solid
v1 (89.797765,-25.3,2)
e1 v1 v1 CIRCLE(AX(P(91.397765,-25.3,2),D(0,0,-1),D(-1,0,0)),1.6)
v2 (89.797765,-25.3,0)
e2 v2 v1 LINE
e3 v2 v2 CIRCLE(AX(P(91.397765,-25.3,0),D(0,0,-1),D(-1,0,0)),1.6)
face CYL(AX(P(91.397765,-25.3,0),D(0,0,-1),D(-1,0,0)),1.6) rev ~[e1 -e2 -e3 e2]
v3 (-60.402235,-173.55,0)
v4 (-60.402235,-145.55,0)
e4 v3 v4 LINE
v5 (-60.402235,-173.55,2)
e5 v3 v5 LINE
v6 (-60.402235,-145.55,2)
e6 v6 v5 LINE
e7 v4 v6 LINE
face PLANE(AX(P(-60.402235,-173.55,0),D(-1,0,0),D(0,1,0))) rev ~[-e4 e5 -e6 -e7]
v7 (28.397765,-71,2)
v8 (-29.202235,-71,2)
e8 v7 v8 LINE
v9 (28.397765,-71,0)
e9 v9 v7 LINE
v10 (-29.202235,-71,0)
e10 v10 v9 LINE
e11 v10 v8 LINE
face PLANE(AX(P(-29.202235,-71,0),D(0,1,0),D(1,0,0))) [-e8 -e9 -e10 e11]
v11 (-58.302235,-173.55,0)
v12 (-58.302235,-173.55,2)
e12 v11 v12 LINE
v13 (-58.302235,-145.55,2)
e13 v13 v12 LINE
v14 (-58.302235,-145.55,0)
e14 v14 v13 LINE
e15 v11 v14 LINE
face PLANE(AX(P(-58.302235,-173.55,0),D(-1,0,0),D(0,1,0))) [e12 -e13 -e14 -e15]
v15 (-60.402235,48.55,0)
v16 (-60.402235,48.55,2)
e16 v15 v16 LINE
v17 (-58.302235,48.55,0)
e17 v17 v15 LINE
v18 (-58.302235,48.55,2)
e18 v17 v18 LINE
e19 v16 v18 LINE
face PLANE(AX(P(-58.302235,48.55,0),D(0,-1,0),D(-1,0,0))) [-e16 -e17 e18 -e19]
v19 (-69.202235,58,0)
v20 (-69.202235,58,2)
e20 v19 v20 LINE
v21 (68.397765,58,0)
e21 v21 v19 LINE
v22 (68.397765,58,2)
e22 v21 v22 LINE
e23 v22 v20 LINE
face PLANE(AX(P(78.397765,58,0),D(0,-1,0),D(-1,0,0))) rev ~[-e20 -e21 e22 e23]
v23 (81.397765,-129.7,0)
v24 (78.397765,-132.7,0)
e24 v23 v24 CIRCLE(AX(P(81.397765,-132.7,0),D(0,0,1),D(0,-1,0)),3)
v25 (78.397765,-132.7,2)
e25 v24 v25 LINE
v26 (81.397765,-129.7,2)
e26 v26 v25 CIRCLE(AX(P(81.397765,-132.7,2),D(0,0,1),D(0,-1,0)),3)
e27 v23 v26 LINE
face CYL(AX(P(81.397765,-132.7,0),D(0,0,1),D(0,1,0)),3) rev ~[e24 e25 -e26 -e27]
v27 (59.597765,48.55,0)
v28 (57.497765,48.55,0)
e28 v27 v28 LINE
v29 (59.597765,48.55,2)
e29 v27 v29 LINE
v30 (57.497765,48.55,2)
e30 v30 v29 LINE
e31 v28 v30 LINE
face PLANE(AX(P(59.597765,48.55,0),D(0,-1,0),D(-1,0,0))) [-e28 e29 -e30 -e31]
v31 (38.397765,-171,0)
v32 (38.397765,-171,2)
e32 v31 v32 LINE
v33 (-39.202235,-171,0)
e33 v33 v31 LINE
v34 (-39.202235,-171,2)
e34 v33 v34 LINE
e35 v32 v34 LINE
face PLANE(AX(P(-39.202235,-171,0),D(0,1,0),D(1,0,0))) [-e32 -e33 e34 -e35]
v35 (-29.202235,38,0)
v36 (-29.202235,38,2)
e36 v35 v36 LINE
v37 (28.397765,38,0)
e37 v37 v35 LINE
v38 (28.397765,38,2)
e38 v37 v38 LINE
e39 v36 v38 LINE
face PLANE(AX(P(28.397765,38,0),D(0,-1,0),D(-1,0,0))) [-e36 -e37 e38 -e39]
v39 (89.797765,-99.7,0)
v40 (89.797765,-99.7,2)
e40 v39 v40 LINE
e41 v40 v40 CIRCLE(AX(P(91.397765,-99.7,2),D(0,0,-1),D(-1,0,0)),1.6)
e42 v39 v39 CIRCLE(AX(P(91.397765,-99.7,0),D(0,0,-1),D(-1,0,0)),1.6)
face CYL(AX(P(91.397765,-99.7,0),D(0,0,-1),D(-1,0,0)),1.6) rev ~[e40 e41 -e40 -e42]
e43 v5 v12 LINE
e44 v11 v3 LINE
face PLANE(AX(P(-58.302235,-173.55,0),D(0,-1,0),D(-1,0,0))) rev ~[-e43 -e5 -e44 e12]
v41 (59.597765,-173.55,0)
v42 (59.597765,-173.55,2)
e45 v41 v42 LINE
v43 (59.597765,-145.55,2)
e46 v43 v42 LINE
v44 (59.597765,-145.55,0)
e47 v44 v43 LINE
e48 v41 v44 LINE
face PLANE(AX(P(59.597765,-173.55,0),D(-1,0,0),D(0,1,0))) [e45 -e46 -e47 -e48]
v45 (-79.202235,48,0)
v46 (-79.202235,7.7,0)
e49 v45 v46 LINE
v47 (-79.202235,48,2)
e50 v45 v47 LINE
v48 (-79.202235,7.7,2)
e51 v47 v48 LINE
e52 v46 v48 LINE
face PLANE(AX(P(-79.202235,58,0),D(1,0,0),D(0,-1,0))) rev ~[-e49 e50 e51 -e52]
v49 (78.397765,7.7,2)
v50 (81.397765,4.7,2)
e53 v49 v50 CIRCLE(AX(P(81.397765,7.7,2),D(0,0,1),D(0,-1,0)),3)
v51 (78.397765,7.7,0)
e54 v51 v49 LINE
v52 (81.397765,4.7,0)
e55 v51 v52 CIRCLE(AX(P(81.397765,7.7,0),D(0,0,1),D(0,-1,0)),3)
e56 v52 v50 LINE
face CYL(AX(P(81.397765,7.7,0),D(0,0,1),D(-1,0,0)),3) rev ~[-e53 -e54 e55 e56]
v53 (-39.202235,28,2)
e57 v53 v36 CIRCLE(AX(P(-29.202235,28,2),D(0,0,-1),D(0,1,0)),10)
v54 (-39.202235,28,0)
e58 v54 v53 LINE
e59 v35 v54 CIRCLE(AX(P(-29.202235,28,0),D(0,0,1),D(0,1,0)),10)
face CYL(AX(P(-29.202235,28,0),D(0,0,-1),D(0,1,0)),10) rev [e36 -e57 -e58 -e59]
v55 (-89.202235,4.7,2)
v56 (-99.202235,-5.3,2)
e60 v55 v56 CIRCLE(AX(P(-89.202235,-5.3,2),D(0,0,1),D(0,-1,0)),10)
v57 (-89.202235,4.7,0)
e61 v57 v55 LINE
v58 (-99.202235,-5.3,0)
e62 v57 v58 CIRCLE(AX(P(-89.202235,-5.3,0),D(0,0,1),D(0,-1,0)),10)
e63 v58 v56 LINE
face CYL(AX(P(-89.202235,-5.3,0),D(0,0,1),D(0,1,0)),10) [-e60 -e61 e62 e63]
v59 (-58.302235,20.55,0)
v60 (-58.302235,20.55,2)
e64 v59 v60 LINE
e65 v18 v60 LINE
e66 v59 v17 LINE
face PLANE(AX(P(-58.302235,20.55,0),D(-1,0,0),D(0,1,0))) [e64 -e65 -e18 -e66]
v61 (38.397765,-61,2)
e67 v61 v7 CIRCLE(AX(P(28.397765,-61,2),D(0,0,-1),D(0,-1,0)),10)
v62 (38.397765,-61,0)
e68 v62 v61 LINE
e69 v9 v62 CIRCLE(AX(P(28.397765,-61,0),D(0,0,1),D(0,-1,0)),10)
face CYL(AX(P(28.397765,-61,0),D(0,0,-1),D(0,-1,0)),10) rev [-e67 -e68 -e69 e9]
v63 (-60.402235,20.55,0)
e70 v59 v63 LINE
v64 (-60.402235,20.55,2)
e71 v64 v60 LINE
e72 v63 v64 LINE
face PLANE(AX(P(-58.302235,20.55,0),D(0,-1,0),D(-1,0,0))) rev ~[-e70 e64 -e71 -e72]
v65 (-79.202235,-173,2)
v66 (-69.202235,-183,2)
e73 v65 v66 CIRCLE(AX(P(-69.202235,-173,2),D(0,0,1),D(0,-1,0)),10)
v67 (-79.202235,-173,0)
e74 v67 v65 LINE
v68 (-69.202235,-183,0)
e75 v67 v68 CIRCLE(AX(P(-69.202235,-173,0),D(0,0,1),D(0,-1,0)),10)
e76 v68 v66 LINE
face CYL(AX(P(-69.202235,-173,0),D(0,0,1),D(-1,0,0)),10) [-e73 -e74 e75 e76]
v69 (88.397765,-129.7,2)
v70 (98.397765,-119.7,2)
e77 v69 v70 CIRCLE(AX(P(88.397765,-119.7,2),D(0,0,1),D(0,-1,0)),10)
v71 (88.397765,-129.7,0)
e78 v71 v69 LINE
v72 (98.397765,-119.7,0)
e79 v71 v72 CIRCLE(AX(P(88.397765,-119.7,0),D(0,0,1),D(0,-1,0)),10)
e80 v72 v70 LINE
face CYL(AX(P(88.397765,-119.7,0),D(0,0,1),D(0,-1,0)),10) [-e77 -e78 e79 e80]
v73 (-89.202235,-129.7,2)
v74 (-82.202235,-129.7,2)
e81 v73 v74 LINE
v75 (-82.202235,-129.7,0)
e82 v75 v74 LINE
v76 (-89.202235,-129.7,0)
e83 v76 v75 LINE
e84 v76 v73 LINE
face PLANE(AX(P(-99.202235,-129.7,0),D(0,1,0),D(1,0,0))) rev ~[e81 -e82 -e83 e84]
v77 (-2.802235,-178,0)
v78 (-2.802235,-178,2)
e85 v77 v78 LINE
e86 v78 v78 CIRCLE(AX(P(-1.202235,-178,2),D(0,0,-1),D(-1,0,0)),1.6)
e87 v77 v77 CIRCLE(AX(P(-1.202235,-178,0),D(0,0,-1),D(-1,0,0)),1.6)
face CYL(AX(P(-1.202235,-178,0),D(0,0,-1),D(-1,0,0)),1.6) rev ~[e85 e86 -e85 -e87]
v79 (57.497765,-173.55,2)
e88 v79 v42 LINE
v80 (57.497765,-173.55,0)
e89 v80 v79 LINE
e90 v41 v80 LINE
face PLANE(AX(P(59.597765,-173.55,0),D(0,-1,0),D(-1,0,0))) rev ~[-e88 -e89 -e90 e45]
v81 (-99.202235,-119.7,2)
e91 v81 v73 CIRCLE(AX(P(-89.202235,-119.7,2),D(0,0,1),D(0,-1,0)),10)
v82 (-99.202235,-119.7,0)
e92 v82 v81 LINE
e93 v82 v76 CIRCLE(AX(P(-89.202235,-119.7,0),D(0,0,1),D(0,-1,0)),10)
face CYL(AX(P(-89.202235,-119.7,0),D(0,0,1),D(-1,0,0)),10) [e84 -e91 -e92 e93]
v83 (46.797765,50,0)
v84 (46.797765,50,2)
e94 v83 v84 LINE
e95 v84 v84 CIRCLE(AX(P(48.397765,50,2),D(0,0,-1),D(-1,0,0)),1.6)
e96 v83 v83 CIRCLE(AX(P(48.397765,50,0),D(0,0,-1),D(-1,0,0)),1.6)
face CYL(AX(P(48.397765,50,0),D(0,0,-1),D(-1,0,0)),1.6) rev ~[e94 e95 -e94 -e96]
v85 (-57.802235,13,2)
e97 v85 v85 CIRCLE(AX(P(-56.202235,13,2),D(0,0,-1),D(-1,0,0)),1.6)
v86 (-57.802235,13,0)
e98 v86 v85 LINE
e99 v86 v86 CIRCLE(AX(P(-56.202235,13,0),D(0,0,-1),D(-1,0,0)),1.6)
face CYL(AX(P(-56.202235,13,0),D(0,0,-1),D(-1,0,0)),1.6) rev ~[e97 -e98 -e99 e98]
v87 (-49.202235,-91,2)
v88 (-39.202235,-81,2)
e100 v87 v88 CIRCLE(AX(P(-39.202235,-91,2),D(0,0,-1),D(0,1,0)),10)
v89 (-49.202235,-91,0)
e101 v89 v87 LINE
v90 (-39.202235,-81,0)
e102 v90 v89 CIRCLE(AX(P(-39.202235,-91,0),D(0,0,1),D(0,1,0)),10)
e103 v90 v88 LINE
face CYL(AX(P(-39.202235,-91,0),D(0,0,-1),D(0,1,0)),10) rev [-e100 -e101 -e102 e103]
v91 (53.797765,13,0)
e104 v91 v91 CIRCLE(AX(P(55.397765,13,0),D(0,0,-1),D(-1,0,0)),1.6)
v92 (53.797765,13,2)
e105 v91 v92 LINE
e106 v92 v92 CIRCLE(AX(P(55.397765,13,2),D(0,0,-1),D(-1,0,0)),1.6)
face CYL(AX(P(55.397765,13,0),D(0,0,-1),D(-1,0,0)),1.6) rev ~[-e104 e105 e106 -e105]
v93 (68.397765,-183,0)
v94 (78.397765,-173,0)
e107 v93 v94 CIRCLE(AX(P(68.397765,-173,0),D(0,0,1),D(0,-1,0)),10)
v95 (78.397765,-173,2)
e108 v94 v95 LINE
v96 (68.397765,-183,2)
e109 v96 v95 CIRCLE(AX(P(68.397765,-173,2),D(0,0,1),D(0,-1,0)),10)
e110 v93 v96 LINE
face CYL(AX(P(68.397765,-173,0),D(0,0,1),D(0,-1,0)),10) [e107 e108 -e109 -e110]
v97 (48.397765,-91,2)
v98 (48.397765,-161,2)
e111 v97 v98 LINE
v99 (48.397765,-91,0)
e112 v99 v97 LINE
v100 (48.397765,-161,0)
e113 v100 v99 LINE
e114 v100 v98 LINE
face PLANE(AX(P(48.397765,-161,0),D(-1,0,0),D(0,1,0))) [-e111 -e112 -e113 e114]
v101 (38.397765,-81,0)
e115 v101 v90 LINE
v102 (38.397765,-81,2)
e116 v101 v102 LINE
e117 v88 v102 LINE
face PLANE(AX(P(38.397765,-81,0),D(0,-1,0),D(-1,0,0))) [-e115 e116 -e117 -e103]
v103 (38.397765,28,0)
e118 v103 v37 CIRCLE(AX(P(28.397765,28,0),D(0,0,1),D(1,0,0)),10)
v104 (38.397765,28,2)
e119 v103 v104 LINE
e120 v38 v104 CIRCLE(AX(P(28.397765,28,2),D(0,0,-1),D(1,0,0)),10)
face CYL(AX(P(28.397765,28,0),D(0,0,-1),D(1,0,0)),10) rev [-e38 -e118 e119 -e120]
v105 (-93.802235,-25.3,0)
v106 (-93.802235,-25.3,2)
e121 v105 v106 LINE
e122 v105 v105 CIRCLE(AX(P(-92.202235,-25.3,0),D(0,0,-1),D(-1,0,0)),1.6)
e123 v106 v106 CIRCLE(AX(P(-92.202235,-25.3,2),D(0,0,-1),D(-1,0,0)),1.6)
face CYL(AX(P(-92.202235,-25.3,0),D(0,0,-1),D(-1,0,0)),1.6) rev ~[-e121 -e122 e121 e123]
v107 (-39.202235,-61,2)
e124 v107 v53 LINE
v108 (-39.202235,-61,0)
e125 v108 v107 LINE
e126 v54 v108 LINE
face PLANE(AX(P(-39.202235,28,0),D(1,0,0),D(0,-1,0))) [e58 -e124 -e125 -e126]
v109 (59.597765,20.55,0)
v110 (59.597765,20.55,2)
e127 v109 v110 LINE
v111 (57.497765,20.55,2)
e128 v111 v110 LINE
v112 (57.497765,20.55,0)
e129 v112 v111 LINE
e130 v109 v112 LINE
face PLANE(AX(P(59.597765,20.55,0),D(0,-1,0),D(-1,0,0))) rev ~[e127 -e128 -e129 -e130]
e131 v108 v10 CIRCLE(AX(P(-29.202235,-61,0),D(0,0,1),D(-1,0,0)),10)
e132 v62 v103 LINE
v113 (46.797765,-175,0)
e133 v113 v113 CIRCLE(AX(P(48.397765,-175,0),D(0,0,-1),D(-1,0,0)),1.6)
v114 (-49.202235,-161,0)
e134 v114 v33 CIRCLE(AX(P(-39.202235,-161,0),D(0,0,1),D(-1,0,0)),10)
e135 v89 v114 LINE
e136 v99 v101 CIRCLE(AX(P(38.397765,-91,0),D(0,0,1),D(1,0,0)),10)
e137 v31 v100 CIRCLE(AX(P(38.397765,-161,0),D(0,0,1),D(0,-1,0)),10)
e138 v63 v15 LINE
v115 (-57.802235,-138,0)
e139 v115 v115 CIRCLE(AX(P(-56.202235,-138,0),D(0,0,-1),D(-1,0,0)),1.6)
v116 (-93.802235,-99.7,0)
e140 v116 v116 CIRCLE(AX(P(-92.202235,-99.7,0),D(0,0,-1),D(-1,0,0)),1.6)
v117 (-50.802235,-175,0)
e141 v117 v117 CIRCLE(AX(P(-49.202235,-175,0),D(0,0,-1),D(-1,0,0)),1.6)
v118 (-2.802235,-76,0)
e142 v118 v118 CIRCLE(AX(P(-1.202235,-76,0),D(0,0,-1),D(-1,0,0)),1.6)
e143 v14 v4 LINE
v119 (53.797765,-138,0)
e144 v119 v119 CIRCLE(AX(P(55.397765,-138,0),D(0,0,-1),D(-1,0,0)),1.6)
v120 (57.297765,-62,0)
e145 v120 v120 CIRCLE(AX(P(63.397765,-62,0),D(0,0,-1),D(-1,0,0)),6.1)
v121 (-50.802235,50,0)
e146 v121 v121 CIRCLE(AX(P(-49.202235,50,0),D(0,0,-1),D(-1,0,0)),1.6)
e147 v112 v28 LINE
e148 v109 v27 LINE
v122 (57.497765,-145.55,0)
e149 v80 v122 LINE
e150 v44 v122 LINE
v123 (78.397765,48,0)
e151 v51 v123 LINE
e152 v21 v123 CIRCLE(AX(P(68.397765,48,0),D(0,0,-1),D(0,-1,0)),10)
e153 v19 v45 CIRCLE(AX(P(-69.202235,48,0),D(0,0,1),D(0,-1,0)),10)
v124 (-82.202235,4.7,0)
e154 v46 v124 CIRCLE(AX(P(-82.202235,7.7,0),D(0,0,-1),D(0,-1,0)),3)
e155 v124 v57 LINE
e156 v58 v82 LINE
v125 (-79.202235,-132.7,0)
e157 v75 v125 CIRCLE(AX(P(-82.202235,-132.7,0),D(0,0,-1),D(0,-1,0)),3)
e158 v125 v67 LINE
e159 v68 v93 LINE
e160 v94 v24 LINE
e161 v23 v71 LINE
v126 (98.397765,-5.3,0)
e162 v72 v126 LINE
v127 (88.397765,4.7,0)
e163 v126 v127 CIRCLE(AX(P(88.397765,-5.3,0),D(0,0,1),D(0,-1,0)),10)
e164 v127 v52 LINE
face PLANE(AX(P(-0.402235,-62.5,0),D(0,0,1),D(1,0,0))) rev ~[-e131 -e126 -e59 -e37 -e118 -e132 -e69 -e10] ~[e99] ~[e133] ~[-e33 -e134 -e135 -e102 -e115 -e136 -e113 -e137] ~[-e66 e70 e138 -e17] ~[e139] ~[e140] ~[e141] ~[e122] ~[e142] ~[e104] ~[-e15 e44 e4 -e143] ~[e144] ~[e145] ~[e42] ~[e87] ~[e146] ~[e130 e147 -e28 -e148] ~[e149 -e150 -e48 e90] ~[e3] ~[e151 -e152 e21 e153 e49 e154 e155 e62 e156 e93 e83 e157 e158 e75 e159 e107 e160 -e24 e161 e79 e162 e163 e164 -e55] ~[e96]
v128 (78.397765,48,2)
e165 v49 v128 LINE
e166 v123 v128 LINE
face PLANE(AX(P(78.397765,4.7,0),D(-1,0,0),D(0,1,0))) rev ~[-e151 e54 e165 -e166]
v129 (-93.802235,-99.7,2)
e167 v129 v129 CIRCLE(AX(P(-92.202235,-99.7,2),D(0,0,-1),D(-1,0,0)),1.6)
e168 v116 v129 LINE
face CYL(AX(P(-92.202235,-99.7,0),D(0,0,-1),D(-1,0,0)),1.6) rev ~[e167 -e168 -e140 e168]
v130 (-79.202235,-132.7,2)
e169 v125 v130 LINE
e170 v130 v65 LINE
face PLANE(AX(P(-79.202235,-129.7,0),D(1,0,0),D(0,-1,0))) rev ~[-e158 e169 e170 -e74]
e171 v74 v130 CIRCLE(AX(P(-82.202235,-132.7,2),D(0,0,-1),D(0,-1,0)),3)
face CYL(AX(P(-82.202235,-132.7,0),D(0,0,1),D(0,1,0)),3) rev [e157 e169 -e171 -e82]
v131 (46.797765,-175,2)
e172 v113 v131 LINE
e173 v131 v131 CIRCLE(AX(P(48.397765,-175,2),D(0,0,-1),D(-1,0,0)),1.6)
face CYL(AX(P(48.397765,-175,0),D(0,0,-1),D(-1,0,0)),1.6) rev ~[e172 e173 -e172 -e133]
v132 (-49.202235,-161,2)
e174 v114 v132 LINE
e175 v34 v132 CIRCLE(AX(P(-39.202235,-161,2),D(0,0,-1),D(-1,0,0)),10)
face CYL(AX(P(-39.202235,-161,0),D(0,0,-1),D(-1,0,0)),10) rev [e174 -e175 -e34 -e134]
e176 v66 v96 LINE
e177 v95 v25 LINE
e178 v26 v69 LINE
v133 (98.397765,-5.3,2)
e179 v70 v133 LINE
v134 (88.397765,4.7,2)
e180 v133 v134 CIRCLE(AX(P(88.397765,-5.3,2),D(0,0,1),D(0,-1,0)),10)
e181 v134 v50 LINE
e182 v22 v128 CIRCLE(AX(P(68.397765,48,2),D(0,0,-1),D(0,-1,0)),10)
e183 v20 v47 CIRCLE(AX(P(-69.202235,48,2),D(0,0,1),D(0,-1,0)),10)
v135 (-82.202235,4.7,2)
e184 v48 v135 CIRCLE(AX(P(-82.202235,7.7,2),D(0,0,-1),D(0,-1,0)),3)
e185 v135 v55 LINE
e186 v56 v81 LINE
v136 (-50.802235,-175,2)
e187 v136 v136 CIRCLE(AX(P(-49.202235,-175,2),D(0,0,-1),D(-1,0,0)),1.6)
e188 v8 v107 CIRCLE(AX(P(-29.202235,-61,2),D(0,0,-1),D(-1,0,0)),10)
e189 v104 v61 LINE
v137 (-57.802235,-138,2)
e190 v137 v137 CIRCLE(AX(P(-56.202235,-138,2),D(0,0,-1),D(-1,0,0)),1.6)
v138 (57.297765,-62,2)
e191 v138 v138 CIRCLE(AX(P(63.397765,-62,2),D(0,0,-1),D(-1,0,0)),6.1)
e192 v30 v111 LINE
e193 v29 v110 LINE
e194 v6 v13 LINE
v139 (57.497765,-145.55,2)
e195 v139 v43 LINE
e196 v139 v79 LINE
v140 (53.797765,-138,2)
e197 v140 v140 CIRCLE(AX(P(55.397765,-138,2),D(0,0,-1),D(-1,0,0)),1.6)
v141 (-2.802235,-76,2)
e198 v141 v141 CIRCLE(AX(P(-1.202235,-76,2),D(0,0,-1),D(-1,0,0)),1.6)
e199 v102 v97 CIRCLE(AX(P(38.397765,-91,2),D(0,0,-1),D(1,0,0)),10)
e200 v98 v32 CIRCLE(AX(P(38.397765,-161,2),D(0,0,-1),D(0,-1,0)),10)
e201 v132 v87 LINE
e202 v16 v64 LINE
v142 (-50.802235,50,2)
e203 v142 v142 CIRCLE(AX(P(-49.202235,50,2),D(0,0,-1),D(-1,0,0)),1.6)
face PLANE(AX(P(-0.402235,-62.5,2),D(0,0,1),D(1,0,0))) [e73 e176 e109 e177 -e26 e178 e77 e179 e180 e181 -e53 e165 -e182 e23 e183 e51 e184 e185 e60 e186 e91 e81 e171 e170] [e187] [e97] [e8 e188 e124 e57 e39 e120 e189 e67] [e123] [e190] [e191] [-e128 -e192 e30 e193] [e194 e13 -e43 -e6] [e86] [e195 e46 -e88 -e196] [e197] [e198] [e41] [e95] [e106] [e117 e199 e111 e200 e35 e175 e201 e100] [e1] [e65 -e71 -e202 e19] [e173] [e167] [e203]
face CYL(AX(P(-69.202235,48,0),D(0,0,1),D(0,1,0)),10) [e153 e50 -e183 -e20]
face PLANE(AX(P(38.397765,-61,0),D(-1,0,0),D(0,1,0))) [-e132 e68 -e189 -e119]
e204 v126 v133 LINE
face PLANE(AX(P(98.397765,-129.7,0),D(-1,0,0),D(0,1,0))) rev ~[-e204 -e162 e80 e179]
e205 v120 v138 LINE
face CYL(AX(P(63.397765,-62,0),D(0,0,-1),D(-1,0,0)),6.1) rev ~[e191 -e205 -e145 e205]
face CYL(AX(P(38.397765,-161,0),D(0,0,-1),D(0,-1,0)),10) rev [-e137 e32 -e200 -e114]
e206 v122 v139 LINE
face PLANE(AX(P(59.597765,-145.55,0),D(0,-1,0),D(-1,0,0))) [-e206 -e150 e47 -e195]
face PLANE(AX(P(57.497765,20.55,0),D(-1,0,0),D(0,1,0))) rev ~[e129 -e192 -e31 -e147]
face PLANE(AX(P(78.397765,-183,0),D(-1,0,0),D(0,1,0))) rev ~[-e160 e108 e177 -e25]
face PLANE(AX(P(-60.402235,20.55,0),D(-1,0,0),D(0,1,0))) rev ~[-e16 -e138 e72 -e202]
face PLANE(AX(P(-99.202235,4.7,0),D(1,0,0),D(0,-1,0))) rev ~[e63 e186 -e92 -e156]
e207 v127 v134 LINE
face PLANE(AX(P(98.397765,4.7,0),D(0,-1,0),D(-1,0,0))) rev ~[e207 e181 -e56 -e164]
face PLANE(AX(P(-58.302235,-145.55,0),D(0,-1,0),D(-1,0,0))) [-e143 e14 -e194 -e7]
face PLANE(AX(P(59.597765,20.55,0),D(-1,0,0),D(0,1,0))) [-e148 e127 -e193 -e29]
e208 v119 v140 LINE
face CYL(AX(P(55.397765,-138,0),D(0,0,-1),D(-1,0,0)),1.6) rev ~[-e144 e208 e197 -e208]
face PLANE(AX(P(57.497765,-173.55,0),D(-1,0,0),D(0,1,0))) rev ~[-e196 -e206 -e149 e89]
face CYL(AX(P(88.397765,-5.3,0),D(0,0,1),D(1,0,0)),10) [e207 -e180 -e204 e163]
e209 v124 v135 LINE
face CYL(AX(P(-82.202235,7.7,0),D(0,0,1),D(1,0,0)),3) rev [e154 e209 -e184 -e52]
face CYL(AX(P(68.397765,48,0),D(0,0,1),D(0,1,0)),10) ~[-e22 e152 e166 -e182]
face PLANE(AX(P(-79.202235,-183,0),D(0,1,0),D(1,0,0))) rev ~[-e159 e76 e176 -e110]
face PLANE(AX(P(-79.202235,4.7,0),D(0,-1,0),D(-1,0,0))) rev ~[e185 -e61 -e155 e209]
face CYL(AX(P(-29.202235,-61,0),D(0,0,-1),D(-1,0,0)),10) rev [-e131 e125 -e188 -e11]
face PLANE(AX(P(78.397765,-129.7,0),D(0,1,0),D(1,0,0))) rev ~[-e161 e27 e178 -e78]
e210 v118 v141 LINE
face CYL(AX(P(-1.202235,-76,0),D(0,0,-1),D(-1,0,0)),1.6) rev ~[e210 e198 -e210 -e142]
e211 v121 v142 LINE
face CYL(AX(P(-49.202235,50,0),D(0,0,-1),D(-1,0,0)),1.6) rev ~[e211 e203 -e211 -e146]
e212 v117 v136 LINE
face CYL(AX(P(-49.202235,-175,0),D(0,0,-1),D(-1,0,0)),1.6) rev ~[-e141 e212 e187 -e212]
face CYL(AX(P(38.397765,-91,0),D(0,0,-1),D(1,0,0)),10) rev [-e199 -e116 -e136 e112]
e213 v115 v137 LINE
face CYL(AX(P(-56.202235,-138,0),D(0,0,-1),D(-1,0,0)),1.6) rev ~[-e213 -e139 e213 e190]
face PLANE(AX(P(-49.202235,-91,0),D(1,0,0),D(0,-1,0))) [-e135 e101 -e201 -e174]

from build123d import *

# Parameters (mm, degrees)
Y_KSEKLIK_EKSTR_ZYON1_DEPTH = 2
RADYUS1_R                   = 10
RADYUS2_R                   = 3
IZIM2_W                     = 2.1
IZIM2_H                     = 28
KES_EKSTR_ZYON1_DEPTH       = 10
KES_EKSTR_ZYON2_DEPTH       = 10
KES_EKSTR_ZYON3_DEPTH       = 10
IZIM5_R                     = 6.1
KES_EKSTR_ZYON4_DEPTH       = 10
IZIM6_R                     = 1.6
KES_EKSTR_ZYON5_DEPTH       = 10


with BuildPart() as part:
    # Çizim1 → Yükseklik-Ekstrüzyon1 (new body)
    with BuildSketch(Plane.XY):
        Polygon((78.397764574, 53), (78.397764574, 58), (-79.202235426, 58), (-79.202235426, 53), (-79.202235426, 4.7), (-99.202235426, 4.7), (-99.202235426, -129.7), (-79.202235426, -129.7), (-79.202235426, -178), (-79.202235426, -183), (78.397764574, -183), (78.397764574, -178), (78.397764574, -129.7), (98.397764574, -129.7), (98.397764574, 4.7), (78.397764574, 4.7), align=None)
    extrude(amount=Y_KSEKLIK_EKSTR_ZYON1_DEPTH)

    # Radyus1
    radyus1_edges = [part.edges().sort_by_distance(p)[0] for p in [
        (-79.202235426, 58, 1),
        (78.397764574, 58, 1),
        (98.397764574, 4.7, 1),
        (98.397764574, -129.7, 1),
        (78.397764574, -183, 1),
        (-79.202235426, -183, 1),
        (-99.202235426, -129.7, 1),
        (-99.202235426, 4.7, 1),
    ]]
    fillet(radyus1_edges, radius=RADYUS1_R)

    # Radyus2
    radyus2_edges = [part.edges().sort_by_distance(p)[0] for p in [
        (78.397764574, 4.7, 1),
        (78.397764574, -129.7, 1),
        (-79.202235426, -129.7, 1),
        (-79.202235426, 4.7, 1),
    ]]
    fillet(radyus2_edges, radius=RADYUS2_R)

    # Çizim2 → Kes-Ekstrüzyon1 (cut)
    with BuildSketch(Plane(origin=(0, 0, 0), x_dir=(-1, 0, 0), z_dir=(0, 0, -1))):
        with Locations((-58.547764574, -159.55)):
            Rectangle(IZIM2_W, IZIM2_H)
        with Locations((59.352235426, -159.55)):
            Rectangle(IZIM2_W, IZIM2_H)
        with Locations((59.352235426, 34.55)):
            Rectangle(IZIM2_W, IZIM2_H)
        with Locations((-58.547764574, 34.55)):
            Rectangle(IZIM2_W, IZIM2_H)
    extrude(amount=-KES_EKSTR_ZYON1_DEPTH, mode=Mode.SUBTRACT)

    # Çizim3 → Kes-Ekstrüzyon2 (cut)
    with BuildSketch(Plane(origin=(0, 0, 0), x_dir=(-1, 0, 0), z_dir=(0, 0, -1))):
        with BuildLine():
            Line((39.202235426, -171), (-38.397764574, -171))
            ThreePointArc((-38.397764574, -171), (-45.468832385, -168.071067812), (-48.397764574, -161))
            Line((-48.397764574, -161), (-48.397764574, -91))
            ThreePointArc((-48.397764574, -91), (-45.468832385, -83.928932188), (-38.397764574, -81))
            Line((-38.397764574, -81), (39.202235426, -81))
            ThreePointArc((39.202235426, -81), (46.273303238, -83.928932188), (49.202235426, -91))
            Line((49.202235426, -91), (49.202235426, -161))
            ThreePointArc((49.202235426, -161), (46.273303238, -168.071067812), (39.202235426, -171))
        make_face()
    extrude(amount=-KES_EKSTR_ZYON2_DEPTH, mode=Mode.SUBTRACT)

    # Çizim4 → Kes-Ekstrüzyon3 (cut)
    with BuildSketch(Plane(origin=(0, 0, 0), x_dir=(-1, 0, 0), z_dir=(0, 0, -1))):
        with BuildLine():
            Line((29.202235426, -71), (-28.397764574, -71))
            ThreePointArc((-28.397764574, -71), (-35.468832385, -68.071067812), (-38.397764574, -61))
            Line((-38.397764574, -61), (-38.397764574, 28))
            ThreePointArc((-38.397764574, 28), (-35.468832385, 35.071067812), (-28.397764574, 38))
            Line((-28.397764574, 38), (29.202235426, 38))
            ThreePointArc((29.202235426, 38), (36.273303238, 35.071067812), (39.202235426, 28))
            Line((39.202235426, 28), (39.202235426, -61))
            ThreePointArc((39.202235426, -61), (36.273303238, -68.071067812), (29.202235426, -71))
        make_face()
    extrude(amount=-KES_EKSTR_ZYON3_DEPTH, mode=Mode.SUBTRACT)

    # Çizim5 → Kes-Ekstrüzyon4 (cut)
    with BuildSketch(Plane(origin=(0, 0, 0), x_dir=(-1, 0, 0), z_dir=(0, 0, -1))):
        with Locations((-63.397764574, -62)):
            Circle(IZIM5_R)
    extrude(amount=-KES_EKSTR_ZYON4_DEPTH, mode=Mode.SUBTRACT)

    # Çizim6 → Kes-Ekstrüzyon5 (cut)
    with BuildSketch(Plane(origin=(0, 0, 0), x_dir=(-1, 0, 0), z_dir=(0, 0, -1))):
        with Locations((49.202235426, -175)):
            Circle(IZIM6_R)
        with Locations((56.202235426, -138)):
            Circle(IZIM6_R)
        with Locations((1.202235426, -76)):
            Circle(IZIM6_R)
        with Locations((1.202235426, -178)):
            Circle(IZIM6_R)
        with Locations((92.202235426, -99.7)):
            Circle(IZIM6_R)
        with Locations((92.202235426, -25.3)):
            Circle(IZIM6_R)
        with Locations((56.202235426, 13)):
            Circle(IZIM6_R)
        with Locations((49.202235426, 50)):
            Circle(IZIM6_R)
        with Locations((-48.397764574, 50)):
            Circle(IZIM6_R)
        with Locations((-55.397764574, 13)):
            Circle(IZIM6_R)
        with Locations((-91.397764574, -25.3)):
            Circle(IZIM6_R)
        with Locations((-91.397764574, -99.7)):
            Circle(IZIM6_R)
        with Locations((-55.397764574, -138)):
            Circle(IZIM6_R)
        with Locations((-48.397764574, -175)):
            Circle(IZIM6_R)
    extrude(amount=-KES_EKSTR_ZYON5_DEPTH, mode=Mode.SUBTRACT)


solid = part.part
